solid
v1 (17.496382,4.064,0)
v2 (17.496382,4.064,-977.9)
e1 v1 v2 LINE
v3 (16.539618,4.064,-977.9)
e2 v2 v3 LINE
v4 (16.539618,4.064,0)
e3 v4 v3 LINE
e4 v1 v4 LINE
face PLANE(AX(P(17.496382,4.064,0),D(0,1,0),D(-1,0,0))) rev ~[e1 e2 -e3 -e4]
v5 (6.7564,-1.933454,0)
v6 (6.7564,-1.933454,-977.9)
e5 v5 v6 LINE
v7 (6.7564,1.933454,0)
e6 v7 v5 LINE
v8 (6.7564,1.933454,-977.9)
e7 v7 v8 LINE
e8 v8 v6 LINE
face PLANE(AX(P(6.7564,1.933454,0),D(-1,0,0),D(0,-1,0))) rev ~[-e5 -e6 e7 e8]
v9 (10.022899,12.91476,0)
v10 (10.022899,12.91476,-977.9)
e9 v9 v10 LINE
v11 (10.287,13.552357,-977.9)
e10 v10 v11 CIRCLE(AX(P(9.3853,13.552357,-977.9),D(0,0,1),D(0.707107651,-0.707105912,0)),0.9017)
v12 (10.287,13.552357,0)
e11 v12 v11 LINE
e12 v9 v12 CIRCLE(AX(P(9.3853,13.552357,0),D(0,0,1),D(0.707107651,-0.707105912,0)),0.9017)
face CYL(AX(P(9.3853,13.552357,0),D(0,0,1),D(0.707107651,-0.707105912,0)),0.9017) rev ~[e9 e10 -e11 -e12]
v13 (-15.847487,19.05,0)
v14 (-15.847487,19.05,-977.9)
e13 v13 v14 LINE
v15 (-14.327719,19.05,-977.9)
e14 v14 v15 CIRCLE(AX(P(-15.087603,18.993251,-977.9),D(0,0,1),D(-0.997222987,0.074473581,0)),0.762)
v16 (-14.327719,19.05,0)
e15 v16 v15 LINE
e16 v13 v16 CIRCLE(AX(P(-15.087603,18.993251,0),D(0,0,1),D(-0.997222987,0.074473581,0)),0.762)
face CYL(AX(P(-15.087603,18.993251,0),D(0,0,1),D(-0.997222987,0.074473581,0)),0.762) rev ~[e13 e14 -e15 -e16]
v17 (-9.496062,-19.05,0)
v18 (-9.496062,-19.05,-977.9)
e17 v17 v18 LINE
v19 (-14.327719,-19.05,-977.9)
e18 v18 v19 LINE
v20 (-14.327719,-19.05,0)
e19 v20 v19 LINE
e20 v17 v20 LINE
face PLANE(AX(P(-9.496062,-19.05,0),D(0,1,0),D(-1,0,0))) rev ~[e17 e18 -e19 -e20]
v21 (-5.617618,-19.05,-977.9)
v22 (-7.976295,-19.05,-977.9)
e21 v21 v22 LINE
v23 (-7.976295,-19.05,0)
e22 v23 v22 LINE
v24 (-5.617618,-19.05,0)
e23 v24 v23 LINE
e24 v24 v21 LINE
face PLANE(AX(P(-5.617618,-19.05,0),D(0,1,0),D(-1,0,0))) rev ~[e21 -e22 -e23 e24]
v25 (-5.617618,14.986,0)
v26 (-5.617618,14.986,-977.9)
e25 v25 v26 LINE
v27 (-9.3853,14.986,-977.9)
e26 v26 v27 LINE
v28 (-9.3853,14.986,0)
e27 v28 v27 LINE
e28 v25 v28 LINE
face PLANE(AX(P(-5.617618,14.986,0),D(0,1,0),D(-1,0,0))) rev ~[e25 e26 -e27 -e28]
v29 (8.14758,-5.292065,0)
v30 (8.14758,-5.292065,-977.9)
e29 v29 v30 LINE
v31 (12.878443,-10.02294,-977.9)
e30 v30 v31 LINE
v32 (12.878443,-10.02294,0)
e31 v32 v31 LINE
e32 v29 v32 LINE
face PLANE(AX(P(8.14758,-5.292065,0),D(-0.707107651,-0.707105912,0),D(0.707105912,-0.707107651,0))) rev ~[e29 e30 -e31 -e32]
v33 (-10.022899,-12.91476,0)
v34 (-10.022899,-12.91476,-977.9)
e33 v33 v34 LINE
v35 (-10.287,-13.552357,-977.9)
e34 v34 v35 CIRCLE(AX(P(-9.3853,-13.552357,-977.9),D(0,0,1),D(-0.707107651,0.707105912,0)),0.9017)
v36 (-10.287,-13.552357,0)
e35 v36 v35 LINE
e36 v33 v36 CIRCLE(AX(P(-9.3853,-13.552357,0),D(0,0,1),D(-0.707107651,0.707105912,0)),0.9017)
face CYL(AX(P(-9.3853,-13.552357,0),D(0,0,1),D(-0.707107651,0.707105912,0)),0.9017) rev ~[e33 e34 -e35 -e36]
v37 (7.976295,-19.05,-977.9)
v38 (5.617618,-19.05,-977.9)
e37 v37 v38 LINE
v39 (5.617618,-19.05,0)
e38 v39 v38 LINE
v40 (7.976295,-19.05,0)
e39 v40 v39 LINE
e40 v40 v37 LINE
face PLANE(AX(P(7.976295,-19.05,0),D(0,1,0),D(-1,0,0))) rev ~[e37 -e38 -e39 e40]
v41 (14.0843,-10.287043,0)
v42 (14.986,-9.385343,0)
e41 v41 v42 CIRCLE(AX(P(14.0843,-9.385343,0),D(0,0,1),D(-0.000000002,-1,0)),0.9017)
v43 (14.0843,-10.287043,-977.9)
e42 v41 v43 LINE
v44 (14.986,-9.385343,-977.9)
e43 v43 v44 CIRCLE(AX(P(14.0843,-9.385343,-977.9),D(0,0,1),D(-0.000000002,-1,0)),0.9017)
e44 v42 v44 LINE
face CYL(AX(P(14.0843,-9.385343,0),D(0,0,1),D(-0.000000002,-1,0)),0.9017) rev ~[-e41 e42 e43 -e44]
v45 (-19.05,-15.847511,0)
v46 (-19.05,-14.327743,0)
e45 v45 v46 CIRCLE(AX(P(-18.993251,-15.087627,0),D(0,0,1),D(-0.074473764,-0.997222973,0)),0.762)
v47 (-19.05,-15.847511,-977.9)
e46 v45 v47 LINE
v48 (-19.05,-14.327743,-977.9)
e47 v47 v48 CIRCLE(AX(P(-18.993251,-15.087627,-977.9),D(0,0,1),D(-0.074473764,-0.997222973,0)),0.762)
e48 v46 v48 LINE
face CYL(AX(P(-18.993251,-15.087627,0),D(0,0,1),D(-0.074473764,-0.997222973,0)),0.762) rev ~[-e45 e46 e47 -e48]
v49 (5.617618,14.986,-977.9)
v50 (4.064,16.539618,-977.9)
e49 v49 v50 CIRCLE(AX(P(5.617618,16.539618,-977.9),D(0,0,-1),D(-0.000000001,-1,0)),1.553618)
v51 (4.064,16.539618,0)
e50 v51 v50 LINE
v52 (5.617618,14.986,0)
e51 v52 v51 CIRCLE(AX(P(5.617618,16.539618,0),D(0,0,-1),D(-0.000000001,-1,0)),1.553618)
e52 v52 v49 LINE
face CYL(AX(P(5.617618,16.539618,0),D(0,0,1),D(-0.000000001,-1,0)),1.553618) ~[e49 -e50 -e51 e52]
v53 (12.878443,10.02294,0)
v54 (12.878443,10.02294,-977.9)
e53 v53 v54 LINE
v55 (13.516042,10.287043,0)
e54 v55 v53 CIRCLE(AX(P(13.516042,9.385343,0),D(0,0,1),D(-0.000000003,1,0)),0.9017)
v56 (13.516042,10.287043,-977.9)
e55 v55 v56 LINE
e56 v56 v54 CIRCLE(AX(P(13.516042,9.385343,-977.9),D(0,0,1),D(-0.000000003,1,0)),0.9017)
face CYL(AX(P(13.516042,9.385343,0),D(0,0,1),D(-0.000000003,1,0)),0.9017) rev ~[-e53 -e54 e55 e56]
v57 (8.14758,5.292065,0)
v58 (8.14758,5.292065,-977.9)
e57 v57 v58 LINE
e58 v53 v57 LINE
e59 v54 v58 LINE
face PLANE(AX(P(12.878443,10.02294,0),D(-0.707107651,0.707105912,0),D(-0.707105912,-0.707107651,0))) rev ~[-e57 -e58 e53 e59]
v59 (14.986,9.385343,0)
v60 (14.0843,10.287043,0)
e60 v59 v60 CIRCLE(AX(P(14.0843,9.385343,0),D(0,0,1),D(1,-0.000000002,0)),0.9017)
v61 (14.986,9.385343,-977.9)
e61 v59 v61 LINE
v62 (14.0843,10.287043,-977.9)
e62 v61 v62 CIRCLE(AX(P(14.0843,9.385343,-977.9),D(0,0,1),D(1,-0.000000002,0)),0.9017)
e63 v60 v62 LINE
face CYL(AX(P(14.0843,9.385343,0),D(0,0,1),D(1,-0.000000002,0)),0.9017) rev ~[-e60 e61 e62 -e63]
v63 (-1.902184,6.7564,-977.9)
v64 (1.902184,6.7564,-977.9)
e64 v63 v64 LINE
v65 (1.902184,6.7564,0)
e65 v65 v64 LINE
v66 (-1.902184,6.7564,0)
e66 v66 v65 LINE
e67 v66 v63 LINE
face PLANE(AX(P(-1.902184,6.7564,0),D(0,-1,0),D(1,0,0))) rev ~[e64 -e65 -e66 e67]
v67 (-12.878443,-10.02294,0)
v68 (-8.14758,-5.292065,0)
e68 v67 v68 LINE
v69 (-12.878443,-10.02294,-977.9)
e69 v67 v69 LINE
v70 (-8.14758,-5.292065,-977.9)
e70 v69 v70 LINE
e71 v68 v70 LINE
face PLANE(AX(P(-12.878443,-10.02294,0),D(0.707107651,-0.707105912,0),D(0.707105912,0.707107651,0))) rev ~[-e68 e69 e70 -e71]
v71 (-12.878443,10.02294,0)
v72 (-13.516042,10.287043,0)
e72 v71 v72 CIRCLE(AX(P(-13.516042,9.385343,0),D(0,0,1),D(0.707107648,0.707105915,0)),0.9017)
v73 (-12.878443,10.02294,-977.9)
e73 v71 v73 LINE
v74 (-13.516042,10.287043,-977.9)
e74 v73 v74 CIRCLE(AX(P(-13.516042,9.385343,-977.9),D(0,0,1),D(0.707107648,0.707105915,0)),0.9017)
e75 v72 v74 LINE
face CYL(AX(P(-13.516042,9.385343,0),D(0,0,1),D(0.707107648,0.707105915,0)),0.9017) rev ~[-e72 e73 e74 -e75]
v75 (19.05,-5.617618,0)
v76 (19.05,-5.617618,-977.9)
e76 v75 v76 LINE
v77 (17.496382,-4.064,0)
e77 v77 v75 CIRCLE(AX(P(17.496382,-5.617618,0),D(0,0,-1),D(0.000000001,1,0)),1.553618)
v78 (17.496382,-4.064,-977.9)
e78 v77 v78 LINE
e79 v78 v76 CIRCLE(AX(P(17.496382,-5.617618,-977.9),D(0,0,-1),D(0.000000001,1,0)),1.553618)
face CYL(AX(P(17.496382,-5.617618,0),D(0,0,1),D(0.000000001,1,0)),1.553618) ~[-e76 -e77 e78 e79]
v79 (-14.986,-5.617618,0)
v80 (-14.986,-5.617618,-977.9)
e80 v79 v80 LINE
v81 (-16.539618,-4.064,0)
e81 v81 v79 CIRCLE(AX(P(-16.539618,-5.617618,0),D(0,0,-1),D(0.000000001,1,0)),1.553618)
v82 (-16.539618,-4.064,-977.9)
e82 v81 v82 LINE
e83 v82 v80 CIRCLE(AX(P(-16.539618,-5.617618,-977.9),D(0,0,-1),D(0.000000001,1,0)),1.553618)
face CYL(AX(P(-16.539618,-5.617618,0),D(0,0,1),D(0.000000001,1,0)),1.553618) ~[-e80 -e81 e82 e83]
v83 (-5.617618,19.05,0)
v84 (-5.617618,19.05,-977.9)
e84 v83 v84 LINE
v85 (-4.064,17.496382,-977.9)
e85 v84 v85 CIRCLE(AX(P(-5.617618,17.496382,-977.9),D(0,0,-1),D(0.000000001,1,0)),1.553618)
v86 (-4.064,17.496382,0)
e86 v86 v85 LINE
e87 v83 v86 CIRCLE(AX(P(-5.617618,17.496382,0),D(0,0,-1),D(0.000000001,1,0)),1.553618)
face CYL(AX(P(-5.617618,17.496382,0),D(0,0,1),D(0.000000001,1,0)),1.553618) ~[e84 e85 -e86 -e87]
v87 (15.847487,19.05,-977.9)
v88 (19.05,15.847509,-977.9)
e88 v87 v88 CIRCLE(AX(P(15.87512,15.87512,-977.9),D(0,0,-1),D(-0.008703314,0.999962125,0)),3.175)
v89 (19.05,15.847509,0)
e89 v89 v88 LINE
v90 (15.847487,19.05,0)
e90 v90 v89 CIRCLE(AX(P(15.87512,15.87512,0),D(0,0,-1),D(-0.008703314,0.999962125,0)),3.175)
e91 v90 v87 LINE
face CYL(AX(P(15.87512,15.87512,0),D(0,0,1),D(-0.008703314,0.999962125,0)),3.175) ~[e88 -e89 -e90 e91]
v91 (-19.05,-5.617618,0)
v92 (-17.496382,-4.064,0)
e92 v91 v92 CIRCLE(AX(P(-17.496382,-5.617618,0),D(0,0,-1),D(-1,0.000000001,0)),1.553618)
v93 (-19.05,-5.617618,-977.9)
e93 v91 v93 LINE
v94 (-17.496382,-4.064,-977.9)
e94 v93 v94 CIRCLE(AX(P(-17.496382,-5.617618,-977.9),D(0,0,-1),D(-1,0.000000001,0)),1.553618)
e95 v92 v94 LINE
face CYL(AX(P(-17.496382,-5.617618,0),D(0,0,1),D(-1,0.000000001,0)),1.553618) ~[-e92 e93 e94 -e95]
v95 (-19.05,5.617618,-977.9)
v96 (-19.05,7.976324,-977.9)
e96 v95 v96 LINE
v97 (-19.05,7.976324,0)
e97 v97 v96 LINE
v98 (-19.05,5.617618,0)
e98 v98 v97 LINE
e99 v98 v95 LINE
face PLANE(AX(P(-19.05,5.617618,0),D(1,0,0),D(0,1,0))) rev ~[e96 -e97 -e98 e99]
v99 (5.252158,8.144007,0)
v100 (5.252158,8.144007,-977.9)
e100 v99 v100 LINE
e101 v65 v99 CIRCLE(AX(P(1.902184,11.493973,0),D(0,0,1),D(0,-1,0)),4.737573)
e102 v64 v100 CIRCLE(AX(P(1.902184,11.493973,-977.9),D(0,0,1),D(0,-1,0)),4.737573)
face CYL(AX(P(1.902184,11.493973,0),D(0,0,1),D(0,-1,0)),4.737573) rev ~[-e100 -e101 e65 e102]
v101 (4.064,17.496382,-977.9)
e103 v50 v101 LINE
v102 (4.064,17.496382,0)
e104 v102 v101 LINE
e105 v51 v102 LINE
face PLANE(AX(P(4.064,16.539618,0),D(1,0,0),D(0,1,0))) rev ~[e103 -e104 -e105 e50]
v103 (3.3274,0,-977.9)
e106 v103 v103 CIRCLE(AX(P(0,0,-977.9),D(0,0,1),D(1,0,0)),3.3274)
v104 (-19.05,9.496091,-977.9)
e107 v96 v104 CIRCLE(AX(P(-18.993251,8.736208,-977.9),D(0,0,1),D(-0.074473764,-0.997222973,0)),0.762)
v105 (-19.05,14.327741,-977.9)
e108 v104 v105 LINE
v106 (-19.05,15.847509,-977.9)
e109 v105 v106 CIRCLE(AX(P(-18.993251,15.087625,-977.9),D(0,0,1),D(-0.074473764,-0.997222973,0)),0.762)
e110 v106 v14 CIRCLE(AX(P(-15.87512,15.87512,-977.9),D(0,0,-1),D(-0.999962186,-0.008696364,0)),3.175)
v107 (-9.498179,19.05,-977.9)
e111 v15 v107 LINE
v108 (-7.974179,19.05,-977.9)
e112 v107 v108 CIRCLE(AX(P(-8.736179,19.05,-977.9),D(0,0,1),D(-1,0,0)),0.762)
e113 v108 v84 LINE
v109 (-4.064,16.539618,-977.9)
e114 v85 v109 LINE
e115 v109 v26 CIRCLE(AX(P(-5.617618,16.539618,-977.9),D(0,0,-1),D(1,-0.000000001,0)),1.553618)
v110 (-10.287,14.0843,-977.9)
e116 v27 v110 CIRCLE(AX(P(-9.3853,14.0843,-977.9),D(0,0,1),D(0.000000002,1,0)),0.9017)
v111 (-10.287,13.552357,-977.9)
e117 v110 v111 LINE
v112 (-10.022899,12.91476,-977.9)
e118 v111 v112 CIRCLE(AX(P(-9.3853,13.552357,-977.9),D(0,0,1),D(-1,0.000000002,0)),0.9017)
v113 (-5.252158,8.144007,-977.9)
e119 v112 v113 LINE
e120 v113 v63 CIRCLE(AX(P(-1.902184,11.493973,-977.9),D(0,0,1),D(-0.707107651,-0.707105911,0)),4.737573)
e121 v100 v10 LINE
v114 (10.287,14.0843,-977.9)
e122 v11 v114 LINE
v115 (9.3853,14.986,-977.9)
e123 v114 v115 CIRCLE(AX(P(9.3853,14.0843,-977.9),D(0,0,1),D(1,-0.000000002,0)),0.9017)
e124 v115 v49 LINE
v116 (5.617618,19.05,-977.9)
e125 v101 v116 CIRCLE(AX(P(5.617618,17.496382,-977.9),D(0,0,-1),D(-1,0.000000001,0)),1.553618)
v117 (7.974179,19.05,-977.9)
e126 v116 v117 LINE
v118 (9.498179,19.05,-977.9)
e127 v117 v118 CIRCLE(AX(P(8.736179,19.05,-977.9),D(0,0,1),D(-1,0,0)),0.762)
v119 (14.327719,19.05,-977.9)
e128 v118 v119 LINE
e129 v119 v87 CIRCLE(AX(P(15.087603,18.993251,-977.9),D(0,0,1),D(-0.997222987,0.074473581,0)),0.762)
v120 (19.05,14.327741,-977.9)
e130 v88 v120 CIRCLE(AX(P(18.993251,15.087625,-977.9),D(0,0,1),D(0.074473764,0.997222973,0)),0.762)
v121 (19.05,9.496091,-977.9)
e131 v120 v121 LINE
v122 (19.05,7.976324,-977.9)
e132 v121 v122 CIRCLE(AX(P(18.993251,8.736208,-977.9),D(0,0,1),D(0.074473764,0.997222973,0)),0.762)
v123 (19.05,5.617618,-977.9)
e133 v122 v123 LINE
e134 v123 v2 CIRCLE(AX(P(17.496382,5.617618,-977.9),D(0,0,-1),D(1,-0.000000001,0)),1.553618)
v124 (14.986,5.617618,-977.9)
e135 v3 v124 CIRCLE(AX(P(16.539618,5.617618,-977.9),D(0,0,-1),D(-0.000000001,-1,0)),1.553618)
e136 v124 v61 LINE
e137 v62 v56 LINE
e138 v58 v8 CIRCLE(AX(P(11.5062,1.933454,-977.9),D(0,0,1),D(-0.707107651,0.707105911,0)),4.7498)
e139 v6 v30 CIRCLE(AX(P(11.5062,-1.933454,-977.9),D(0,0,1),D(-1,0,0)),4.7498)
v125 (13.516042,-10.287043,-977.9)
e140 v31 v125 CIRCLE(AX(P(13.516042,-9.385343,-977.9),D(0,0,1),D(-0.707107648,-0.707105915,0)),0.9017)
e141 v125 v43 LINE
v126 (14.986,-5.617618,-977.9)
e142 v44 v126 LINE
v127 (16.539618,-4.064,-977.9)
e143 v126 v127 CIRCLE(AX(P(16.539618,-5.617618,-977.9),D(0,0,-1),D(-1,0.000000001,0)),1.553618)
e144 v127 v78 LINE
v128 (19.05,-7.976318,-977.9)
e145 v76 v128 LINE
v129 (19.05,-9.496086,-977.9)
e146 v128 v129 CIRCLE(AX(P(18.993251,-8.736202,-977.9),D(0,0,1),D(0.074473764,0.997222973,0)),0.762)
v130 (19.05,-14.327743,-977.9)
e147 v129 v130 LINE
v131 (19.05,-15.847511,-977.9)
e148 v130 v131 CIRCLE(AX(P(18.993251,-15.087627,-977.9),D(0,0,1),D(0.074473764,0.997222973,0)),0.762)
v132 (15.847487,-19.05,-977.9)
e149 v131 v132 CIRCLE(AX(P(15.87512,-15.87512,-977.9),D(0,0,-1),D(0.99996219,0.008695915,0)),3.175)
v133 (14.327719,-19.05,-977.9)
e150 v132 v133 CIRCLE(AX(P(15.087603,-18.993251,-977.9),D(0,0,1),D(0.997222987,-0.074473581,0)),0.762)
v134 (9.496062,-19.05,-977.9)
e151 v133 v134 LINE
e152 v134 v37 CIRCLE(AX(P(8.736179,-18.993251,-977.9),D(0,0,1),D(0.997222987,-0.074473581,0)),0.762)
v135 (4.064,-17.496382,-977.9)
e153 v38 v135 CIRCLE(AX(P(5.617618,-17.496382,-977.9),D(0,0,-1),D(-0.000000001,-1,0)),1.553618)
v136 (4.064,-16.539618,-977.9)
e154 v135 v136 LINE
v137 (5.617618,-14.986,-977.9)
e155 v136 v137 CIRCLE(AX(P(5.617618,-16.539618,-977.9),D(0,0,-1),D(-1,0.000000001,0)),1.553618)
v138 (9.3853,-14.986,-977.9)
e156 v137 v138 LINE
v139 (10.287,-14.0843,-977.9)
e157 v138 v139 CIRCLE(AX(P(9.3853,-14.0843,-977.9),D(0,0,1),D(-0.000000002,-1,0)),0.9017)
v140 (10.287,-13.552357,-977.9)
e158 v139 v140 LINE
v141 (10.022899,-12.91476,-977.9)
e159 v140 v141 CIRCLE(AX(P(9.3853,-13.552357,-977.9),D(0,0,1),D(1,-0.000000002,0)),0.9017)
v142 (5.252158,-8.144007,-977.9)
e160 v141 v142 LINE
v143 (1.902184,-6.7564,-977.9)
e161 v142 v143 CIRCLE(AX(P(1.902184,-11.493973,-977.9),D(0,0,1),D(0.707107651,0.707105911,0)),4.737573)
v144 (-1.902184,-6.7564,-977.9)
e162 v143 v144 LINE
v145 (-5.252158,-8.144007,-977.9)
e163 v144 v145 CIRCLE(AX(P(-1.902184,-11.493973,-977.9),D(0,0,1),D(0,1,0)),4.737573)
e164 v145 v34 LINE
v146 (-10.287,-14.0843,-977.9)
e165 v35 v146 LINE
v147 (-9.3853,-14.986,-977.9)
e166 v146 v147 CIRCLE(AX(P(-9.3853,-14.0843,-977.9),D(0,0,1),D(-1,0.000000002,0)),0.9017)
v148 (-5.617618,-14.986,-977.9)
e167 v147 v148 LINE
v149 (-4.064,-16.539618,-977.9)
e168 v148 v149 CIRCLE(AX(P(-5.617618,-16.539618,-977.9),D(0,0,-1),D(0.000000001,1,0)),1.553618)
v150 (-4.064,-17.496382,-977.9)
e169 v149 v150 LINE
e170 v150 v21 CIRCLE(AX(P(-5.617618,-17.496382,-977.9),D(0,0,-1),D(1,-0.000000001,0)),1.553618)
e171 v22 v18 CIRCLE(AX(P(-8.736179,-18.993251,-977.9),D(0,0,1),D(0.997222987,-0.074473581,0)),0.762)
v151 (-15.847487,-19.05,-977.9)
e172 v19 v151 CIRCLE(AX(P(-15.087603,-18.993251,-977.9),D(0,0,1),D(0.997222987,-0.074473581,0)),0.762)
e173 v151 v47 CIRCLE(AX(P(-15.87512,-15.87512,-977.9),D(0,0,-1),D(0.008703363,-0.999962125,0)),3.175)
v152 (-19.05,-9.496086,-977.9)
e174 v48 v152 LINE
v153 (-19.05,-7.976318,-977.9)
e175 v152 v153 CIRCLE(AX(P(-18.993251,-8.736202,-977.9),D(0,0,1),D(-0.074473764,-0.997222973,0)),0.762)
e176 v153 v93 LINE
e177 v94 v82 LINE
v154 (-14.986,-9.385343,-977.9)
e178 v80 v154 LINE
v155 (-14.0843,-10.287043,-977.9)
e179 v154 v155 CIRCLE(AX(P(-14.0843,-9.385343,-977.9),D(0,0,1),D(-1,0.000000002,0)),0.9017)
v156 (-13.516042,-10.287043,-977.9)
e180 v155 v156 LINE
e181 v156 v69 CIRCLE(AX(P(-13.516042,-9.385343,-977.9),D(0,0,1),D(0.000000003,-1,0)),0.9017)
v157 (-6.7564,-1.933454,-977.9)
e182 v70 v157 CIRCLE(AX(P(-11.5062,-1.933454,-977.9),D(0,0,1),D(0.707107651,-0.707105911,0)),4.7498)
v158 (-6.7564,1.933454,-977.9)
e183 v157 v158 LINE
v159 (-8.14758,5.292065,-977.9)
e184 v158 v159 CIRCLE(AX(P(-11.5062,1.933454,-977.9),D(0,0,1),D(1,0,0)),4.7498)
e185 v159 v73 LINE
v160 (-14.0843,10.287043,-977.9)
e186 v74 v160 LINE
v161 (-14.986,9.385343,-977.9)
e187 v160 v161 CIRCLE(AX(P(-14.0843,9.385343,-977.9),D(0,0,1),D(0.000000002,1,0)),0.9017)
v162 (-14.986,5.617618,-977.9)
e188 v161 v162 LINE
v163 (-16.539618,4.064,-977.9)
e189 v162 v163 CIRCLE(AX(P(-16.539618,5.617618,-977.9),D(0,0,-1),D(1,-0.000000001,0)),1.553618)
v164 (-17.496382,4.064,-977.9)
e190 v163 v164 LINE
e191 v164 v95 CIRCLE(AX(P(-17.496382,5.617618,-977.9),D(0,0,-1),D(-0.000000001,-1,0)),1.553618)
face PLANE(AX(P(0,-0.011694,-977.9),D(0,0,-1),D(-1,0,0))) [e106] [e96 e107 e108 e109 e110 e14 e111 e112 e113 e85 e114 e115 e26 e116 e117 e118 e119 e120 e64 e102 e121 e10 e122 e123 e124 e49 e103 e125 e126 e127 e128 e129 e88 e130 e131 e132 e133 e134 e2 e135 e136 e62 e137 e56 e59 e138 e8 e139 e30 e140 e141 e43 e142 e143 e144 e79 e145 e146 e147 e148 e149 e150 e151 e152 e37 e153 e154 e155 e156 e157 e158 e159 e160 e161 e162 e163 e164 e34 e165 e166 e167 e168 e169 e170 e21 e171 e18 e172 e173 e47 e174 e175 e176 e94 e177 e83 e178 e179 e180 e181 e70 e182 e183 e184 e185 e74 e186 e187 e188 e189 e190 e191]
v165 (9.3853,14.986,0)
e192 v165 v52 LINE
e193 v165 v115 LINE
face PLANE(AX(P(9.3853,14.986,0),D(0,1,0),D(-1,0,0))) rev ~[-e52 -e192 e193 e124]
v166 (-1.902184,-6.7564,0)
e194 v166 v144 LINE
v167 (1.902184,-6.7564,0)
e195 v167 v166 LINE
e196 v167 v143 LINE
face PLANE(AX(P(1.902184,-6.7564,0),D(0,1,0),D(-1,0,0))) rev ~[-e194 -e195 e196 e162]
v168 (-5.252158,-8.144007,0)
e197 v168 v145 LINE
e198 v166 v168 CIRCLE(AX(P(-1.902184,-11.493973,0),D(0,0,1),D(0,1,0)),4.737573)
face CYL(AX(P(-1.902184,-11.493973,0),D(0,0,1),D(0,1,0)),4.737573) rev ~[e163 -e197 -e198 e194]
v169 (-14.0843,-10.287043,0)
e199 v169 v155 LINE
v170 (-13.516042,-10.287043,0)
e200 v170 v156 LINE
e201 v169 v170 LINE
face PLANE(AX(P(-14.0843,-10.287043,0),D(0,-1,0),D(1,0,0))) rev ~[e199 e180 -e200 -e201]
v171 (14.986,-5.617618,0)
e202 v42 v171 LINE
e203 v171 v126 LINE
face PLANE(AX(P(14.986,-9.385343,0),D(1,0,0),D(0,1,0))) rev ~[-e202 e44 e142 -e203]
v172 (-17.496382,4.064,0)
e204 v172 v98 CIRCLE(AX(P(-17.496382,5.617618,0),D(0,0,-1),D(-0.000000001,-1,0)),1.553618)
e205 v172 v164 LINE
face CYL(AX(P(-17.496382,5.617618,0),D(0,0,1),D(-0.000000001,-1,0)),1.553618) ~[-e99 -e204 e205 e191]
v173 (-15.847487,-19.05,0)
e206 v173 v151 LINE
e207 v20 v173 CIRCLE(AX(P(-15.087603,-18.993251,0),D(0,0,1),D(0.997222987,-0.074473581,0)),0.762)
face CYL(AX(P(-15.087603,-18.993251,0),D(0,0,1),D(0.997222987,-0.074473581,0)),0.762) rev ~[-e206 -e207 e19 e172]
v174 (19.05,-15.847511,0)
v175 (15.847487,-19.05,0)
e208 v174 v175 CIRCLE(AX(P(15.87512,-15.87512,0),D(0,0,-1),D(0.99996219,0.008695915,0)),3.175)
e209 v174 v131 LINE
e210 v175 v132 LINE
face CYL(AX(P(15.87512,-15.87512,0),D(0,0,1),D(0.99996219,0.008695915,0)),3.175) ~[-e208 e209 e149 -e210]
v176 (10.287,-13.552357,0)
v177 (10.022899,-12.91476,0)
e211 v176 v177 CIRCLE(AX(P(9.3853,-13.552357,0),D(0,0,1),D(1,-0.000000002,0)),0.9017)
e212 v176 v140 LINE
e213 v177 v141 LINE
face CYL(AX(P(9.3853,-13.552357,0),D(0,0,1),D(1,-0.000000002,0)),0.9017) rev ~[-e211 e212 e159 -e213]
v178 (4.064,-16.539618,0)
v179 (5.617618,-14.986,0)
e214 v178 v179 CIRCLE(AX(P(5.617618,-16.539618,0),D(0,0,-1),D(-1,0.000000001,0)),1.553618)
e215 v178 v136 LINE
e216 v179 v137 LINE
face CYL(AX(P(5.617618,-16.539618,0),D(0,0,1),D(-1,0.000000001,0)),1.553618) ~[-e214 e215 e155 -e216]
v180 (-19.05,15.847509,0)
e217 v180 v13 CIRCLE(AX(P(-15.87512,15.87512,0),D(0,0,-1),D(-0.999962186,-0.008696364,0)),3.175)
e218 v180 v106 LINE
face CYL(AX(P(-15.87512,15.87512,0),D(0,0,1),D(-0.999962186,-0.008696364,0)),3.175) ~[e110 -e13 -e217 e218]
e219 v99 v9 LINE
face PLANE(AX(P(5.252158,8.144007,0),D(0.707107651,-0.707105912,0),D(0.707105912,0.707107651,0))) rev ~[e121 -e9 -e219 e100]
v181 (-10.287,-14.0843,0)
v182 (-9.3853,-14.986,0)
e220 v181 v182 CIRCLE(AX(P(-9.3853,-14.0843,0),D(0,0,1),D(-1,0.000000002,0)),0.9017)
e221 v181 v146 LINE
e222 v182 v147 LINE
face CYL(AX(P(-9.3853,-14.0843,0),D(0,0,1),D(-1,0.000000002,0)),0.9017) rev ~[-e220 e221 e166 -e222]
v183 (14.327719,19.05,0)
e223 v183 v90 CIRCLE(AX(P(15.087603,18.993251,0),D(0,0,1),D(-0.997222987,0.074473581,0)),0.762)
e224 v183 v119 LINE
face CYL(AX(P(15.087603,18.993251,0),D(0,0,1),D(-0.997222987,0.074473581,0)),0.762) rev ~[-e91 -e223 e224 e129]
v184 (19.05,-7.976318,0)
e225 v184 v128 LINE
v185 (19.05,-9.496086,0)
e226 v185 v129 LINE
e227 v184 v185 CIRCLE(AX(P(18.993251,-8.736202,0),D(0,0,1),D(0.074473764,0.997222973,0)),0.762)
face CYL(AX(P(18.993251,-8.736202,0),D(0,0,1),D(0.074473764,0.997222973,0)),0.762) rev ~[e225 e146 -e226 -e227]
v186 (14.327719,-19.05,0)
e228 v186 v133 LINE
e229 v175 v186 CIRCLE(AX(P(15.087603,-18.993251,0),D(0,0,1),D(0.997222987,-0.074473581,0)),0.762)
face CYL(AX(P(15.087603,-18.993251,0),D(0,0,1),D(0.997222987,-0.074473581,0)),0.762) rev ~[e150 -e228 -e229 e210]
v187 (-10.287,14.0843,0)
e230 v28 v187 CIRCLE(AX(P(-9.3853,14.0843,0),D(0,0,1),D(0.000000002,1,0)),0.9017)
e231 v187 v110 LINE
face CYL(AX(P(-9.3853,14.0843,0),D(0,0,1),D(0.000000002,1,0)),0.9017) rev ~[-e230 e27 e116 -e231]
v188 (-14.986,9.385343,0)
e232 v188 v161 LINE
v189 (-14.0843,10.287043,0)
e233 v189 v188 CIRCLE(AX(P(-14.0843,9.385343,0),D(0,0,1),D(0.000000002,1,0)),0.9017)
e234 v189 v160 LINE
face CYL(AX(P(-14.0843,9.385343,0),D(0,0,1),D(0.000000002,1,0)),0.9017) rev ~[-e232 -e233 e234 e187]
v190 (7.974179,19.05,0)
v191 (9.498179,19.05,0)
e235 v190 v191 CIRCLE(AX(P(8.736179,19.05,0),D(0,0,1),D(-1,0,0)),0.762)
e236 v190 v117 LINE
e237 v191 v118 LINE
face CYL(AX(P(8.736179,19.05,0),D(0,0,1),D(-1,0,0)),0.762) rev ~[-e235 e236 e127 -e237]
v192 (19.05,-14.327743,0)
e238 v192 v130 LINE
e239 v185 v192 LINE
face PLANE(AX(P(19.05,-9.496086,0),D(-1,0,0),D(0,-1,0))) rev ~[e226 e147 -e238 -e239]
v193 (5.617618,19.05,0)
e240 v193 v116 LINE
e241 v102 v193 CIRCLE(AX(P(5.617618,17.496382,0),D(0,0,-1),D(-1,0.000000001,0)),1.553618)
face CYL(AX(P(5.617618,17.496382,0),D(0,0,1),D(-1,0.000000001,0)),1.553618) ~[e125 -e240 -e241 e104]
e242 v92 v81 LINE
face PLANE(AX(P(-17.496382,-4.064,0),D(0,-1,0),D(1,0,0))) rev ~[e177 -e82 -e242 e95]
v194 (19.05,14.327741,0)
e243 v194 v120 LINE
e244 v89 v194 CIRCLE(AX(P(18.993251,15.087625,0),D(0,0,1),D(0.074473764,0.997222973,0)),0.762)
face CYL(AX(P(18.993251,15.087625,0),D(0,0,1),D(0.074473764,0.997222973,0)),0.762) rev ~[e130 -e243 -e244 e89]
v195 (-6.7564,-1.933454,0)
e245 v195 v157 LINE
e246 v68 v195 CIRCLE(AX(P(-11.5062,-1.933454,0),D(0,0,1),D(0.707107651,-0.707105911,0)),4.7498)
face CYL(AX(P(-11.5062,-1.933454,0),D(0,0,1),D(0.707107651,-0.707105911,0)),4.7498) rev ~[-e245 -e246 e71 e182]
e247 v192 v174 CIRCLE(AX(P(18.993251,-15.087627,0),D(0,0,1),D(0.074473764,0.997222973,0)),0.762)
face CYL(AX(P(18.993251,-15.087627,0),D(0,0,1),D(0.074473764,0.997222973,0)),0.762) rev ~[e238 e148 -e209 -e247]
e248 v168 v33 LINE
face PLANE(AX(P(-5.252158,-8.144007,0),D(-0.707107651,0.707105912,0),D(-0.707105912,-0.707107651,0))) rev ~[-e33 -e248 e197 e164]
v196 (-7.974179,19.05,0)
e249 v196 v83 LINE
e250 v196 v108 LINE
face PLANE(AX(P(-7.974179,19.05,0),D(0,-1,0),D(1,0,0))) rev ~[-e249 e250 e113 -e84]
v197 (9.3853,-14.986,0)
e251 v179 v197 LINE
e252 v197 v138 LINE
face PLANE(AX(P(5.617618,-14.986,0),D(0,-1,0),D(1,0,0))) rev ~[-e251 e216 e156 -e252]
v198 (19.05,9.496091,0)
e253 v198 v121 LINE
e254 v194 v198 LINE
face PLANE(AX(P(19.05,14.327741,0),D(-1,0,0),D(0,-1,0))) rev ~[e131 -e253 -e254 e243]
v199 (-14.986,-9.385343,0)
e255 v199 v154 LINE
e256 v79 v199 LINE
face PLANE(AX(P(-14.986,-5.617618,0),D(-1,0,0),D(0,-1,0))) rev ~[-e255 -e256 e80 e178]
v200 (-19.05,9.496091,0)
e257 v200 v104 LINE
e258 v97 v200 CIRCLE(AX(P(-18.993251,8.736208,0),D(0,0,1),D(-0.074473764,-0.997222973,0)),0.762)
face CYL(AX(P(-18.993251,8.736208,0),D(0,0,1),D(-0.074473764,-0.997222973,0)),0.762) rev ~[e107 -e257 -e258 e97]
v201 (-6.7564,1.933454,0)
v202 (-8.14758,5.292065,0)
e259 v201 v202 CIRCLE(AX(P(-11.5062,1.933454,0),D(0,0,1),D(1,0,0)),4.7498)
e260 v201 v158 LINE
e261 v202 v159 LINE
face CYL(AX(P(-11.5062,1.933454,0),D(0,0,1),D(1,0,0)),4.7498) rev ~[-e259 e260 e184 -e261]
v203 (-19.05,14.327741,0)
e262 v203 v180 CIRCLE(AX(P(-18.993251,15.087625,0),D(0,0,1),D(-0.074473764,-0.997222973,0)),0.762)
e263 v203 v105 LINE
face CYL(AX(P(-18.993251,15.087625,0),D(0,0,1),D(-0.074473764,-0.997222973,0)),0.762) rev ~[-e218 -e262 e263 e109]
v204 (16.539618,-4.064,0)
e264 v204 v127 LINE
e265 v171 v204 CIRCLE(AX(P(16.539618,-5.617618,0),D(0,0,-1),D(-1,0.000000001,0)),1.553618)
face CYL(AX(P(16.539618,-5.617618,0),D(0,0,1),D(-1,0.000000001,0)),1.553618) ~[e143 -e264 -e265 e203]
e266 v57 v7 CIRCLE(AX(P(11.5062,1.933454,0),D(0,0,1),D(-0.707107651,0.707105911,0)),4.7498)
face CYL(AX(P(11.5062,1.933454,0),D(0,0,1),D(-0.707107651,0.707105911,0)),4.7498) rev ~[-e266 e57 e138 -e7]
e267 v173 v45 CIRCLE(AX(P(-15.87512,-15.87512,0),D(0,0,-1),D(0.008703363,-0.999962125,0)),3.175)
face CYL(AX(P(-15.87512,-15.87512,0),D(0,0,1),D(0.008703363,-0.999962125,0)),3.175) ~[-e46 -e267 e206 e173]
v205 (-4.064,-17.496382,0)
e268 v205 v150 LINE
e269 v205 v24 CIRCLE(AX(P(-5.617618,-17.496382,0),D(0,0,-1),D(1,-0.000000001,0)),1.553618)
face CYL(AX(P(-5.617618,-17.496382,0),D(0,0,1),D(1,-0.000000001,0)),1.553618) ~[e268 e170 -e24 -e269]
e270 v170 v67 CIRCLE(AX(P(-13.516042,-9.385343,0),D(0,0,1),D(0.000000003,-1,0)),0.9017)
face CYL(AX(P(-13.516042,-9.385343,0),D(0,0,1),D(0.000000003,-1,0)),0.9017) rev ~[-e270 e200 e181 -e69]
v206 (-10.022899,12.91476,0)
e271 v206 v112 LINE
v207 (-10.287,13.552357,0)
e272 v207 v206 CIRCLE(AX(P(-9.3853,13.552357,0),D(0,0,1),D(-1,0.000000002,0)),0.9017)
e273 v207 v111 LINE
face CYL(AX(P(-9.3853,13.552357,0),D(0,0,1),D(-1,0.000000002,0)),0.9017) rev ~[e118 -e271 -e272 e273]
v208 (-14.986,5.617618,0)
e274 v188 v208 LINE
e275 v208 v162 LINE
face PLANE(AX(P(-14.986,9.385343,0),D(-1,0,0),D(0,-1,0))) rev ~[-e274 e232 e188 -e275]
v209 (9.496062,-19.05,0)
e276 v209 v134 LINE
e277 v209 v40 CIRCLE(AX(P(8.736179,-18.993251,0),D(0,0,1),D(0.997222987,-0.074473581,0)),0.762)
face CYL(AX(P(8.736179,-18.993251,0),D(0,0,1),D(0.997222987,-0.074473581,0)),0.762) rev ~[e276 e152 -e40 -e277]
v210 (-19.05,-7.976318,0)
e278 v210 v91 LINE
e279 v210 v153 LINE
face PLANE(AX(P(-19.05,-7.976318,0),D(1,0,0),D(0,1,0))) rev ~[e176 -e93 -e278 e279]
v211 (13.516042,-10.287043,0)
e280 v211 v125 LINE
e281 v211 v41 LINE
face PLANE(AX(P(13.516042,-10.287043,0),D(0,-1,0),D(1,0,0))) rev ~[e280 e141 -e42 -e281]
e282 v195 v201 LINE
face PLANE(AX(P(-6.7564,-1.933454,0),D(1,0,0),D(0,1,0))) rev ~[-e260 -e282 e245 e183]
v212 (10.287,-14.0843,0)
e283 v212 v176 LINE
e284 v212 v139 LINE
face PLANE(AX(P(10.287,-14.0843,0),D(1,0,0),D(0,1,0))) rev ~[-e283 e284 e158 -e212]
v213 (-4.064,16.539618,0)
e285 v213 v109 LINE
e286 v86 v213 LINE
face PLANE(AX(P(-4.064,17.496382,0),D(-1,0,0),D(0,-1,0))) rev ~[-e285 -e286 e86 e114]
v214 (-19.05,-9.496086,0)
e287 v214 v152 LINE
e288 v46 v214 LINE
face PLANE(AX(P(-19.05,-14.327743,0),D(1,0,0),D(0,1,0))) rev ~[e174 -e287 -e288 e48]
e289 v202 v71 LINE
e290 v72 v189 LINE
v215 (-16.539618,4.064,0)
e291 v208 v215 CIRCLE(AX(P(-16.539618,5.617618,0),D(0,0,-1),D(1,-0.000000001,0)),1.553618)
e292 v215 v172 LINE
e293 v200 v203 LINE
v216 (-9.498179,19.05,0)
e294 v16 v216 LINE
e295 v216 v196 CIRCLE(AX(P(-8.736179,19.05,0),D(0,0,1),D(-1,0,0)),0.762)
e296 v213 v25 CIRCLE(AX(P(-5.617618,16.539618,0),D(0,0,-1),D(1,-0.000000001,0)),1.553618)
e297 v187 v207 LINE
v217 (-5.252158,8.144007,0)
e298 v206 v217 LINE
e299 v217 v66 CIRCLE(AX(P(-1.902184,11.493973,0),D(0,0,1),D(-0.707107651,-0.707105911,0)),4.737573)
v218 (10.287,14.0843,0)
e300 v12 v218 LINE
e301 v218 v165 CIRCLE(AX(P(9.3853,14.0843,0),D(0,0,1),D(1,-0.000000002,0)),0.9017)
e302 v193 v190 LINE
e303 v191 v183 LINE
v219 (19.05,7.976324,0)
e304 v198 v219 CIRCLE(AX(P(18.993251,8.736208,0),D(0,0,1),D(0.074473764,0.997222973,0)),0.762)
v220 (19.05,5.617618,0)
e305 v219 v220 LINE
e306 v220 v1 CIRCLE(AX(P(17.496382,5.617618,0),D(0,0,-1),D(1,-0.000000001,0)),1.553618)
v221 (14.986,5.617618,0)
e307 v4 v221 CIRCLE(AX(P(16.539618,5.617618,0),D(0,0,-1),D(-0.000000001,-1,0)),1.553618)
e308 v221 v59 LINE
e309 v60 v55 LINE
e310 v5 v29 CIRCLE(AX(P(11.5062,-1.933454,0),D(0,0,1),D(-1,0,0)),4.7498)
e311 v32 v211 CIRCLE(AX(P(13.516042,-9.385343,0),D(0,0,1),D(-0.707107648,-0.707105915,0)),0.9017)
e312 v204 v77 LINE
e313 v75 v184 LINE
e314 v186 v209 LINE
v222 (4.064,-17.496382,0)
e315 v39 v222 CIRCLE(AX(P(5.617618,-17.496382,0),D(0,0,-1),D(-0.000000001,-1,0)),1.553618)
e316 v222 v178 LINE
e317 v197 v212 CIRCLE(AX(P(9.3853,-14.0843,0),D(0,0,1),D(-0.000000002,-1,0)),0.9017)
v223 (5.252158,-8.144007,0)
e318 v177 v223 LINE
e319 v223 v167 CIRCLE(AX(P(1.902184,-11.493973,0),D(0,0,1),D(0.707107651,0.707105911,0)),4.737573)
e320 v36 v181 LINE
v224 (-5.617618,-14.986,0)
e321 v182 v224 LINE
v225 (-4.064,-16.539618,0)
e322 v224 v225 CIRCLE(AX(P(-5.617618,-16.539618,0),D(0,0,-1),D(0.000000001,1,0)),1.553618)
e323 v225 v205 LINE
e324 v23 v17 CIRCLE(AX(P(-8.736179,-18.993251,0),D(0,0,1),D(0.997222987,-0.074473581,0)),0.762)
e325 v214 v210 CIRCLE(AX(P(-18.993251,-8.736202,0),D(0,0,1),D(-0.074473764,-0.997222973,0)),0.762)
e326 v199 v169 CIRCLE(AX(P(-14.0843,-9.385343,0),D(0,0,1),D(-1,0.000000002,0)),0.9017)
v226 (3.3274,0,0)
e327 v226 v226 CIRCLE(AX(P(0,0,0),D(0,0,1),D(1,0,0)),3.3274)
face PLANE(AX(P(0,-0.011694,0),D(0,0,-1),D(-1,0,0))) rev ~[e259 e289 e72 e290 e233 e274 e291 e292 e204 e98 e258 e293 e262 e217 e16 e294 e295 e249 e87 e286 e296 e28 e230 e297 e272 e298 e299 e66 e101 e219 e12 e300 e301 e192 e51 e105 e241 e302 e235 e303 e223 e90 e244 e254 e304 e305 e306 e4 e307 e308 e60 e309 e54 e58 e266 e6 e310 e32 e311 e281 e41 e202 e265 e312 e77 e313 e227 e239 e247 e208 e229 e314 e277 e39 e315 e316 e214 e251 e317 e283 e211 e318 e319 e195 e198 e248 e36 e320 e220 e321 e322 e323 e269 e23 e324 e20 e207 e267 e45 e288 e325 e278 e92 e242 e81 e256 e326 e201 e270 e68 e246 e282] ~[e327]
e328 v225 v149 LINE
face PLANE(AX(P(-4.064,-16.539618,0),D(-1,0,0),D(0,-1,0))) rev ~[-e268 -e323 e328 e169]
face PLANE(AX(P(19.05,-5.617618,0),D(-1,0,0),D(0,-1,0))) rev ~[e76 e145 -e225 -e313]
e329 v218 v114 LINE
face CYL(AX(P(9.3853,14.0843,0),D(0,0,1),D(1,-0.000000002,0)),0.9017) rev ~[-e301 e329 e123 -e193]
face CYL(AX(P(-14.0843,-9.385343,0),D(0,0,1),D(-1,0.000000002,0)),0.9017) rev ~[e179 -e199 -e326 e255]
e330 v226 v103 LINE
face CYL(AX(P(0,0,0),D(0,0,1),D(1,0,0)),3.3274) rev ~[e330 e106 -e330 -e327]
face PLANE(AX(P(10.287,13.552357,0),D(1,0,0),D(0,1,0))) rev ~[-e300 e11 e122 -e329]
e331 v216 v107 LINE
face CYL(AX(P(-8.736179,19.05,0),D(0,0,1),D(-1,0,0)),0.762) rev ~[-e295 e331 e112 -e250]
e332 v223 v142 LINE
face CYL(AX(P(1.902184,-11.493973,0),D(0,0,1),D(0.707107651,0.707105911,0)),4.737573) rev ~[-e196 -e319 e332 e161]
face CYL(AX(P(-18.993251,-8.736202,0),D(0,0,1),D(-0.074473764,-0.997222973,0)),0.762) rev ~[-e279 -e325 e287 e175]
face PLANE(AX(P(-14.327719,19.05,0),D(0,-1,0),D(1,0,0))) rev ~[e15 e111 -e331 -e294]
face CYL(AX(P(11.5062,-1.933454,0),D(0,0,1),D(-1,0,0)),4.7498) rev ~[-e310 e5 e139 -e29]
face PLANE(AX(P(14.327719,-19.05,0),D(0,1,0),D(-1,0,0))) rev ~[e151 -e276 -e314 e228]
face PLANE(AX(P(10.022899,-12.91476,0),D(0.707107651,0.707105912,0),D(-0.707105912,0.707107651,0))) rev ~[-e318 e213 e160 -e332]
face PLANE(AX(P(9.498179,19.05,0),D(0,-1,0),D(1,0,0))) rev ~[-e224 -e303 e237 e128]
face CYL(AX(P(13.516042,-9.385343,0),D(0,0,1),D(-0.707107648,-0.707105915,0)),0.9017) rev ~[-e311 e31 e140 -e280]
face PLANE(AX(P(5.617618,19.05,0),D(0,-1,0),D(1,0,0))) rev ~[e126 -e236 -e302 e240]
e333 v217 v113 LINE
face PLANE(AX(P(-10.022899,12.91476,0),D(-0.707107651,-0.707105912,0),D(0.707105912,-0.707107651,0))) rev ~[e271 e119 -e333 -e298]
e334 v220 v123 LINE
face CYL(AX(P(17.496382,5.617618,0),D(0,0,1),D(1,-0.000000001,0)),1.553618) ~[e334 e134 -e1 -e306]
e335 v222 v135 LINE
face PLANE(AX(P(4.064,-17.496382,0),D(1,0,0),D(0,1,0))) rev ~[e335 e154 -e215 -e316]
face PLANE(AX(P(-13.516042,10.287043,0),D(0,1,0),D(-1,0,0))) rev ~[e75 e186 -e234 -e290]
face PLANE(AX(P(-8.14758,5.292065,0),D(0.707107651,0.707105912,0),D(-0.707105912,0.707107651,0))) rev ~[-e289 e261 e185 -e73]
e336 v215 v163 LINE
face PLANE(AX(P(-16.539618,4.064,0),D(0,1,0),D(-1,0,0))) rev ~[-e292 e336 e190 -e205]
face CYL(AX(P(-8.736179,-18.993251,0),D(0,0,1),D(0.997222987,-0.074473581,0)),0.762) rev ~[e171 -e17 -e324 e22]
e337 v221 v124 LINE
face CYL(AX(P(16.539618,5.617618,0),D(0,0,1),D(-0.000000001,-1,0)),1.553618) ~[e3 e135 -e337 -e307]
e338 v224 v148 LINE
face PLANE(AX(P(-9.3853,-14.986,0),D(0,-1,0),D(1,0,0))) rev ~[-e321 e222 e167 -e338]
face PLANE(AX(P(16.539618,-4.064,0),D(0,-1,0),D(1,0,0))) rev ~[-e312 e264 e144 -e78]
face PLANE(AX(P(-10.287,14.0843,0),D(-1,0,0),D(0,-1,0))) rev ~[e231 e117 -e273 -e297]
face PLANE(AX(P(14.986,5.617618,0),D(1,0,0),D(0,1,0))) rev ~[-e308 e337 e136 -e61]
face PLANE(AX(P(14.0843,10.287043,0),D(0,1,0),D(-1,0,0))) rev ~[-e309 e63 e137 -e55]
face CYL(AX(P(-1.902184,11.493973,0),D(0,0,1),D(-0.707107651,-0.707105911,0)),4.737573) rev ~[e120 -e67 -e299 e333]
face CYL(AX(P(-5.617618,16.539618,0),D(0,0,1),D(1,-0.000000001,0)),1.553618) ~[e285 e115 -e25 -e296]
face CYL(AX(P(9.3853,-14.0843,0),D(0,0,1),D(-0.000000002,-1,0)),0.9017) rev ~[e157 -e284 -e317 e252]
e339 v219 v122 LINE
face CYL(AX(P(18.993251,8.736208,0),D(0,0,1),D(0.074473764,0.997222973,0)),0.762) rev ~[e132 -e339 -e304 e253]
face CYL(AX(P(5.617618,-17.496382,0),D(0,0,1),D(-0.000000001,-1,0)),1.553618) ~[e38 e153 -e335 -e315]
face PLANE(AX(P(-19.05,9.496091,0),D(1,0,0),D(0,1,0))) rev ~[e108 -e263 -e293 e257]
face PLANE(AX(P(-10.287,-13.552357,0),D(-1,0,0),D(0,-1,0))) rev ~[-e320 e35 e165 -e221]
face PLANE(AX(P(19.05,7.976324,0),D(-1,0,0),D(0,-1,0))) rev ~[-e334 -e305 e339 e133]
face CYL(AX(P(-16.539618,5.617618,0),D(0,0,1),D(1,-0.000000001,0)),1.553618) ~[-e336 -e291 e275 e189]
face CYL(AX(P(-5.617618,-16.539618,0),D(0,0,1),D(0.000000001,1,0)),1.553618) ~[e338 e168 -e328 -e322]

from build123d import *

# Parameters (mm, degrees)
SKETCH1_R      = 3.3274
EXTRUDE1_DEPTH = 977.9


with BuildPart() as part:
    # Sketch1 → Extrude1 (new body)
    with BuildSketch(Plane.XY):
        with BuildLine():
            Line((-10.022898969, 12.91475973), (-5.252158105, 8.144007132))
            ThreePointArc((-5.252158105, 8.144007132), (-3.715177372, 7.117027388), (-1.902183975, 6.7564))
            Line((-1.902183975, 6.7564), (1.902183975, 6.7564))
            ThreePointArc((1.902183975, 6.7564), (3.715177372, 7.117027388), (5.252158105, 8.144007132))
            Line((5.252158105, 8.144007132), (10.022898969, 12.91475973))
            ThreePointArc((10.022898969, 12.91475973), (10.218362387, 13.207291992), (10.287, 13.552357131))
            Line((10.287, 13.552357131), (10.287, 14.0843))
            ThreePointArc((10.287, 14.0843), (10.022898185, 14.721898185), (9.3853, 14.986))
            Line((9.3853, 14.986), (5.617617549, 14.986))
            ThreePointArc((5.617617549, 14.986), (4.519044045, 15.441044045), (4.064, 16.539617549))
            Line((4.064, 16.539617549), (4.064, 17.496382451))
            ThreePointArc((4.064, 17.496382451), (4.519044045, 18.594955955), (5.617617549, 19.05))
            Line((5.617617549, 19.05), (7.974178704, 19.05))
            ThreePointArc((7.974178704, 19.05), (8.736178704, 18.288), (9.498178704, 19.05))
            Line((9.498178704, 19.05), (14.327719207, 19.05))
            ThreePointArc((14.327719207, 19.05), (15.087603123, 18.231251131), (15.847487039, 19.05))
            ThreePointArc((15.847487039, 19.05), (18.120176289, 18.120192083), (19.05, 15.847509295))
            ThreePointArc((19.05, 15.847509295), (18.231250992, 15.08762539), (19.05, 14.327741484))
            Line((19.05, 14.327741484), (19.05, 9.496091471))
            ThreePointArc((19.05, 9.496091471), (18.231250992, 8.736207565), (19.05, 7.97632366))
            Line((19.05, 7.97632366), (19.05, 5.617617549))
            ThreePointArc((19.05, 5.617617549), (18.594955955, 4.519044045), (17.496382451, 4.064))
            Line((17.496382451, 4.064), (16.539617549, 4.064))
            ThreePointArc((16.539617549, 4.064), (15.441044045, 4.519044045), (14.986, 5.617617549))
            Line((14.986, 5.617617549), (14.986, 9.385342516))
            ThreePointArc((14.986, 9.385342516), (14.721898185, 10.022940701), (14.0843, 10.287042516))
            Line((14.0843, 10.287042516), (13.516042086, 10.287042516))
            ThreePointArc((13.516042086, 10.287042516), (13.170975923, 10.218404478), (12.878443117, 10.022939917))
            Line((12.878443117, 10.022939917), (8.14758008, 5.292065243))
            ThreePointArc((8.14758008, 5.292065243), (7.117955879, 3.751120653), (6.7564, 1.933453584))
            Line((6.7564, 1.933453584), (6.7564, -1.933453584))
            ThreePointArc((6.7564, -1.933453584), (7.117955879, -3.751120653), (8.14758008, -5.292065243))
            Line((8.14758008, -5.292065243), (12.878443117, -10.022939917))
            ThreePointArc((12.878443117, -10.022939917), (13.170975923, -10.218404478), (13.516042086, -10.287042516))
            Line((13.516042086, -10.287042516), (14.0843, -10.287042516))
            ThreePointArc((14.0843, -10.287042516), (14.721898185, -10.022940701), (14.986, -9.385342516))
            Line((14.986, -9.385342516), (14.986, -5.617617549))
            ThreePointArc((14.986, -5.617617549), (15.441044045, -4.519044045), (16.539617549, -4.064))
            Line((16.539617549, -4.064), (17.496382451, -4.064))
            ThreePointArc((17.496382451, -4.064), (18.594955955, -4.519044045), (19.05, -5.617617549))
            Line((19.05, -5.617617549), (19.05, -7.976318491))
            ThreePointArc((19.05, -7.976318491), (18.231250992, -8.736202396), (19.05, -9.496086302))
            Line((19.05, -9.496086302), (19.05, -14.32774291))
            ThreePointArc((19.05, -14.32774291), (18.231250992, -15.087626816), (19.05, -15.847510721))
            ThreePointArc((19.05, -15.847510721), (18.120175716, -18.120192644), (15.847486868, -19.05))
            ThreePointArc((15.847486868, -19.05), (15.087602952, -18.231251131), (14.327719036, -19.05))
            Line((14.327719036, -19.05), (9.496062448, -19.05))
            ThreePointArc((9.496062448, -19.05), (8.736178532, -18.231251131), (7.976294616, -19.05))
            Line((7.976294616, -19.05), (5.617617549, -19.05))
            ThreePointArc((5.617617549, -19.05), (4.519044045, -18.594955955), (4.064, -17.496382451))
            Line((4.064, -17.496382451), (4.064, -16.539617549))
            ThreePointArc((4.064, -16.539617549), (4.519044045, -15.441044045), (5.617617549, -14.986))
            Line((5.617617549, -14.986), (9.3853, -14.986))
            ThreePointArc((9.3853, -14.986), (10.022898185, -14.721898185), (10.287, -14.0843))
            Line((10.287, -14.0843), (10.287, -13.552357131))
            ThreePointArc((10.287, -13.552357131), (10.218362387, -13.207291992), (10.022898969, -12.91475973))
            Line((10.022898969, -12.91475973), (5.252158105, -8.144007132))
            ThreePointArc((5.252158105, -8.144007132), (3.715177372, -7.117027388), (1.902183975, -6.7564))
            Line((1.902183975, -6.7564), (-1.902183975, -6.7564))
            ThreePointArc((-1.902183975, -6.7564), (-3.715177372, -7.117027388), (-5.252158105, -8.144007132))
            Line((-5.252158105, -8.144007132), (-10.022898969, -12.91475973))
            ThreePointArc((-10.022898969, -12.91475973), (-10.218362387, -13.207291992), (-10.287, -13.552357131))
            Line((-10.287, -13.552357131), (-10.287, -14.0843))
            ThreePointArc((-10.287, -14.0843), (-10.022898185, -14.721898185), (-9.3853, -14.986))
            Line((-9.3853, -14.986), (-5.617617549, -14.986))
            ThreePointArc((-5.617617549, -14.986), (-4.519044045, -15.441044045), (-4.064, -16.539617549))
            Line((-4.064, -16.539617549), (-4.064, -17.496382451))
            ThreePointArc((-4.064, -17.496382451), (-4.519044045, -18.594955955), (-5.617617549, -19.05))
            Line((-5.617617549, -19.05), (-7.976294616, -19.05))
            ThreePointArc((-7.976294616, -19.05), (-8.736178532, -18.231251131), (-9.496062448, -19.05))
            Line((-9.496062448, -19.05), (-14.327719036, -19.05))
            ThreePointArc((-14.327719036, -19.05), (-15.087602952, -18.231251131), (-15.847486868, -19.05))
            ThreePointArc((-15.847486868, -19.05), (-18.120175716, -18.120192644), (-19.05, -15.847510721))
            ThreePointArc((-19.05, -15.847510721), (-18.231250992, -15.087626816), (-19.05, -14.32774291))
            Line((-19.05, -14.32774291), (-19.05, -9.496086302))
            ThreePointArc((-19.05, -9.496086302), (-18.231250992, -8.736202396), (-19.05, -7.976318491))
            Line((-19.05, -7.976318491), (-19.05, -5.617617549))
            ThreePointArc((-19.05, -5.617617549), (-18.594955955, -4.519044045), (-17.496382451, -4.064))
            Line((-17.496382451, -4.064), (-16.539617549, -4.064))
            ThreePointArc((-16.539617549, -4.064), (-15.441044045, -4.519044045), (-14.986, -5.617617549))
            Line((-14.986, -5.617617549), (-14.986, -9.385342516))
            ThreePointArc((-14.986, -9.385342516), (-14.721898185, -10.022940701), (-14.0843, -10.287042516))
            Line((-14.0843, -10.287042516), (-13.516042086, -10.287042516))
            ThreePointArc((-13.516042086, -10.287042516), (-13.170975923, -10.218404478), (-12.878443117, -10.022939917))
            Line((-12.878443117, -10.022939917), (-8.14758008, -5.292065243))
            ThreePointArc((-8.14758008, -5.292065243), (-7.117955879, -3.751120653), (-6.7564, -1.933453584))
            Line((-6.7564, -1.933453584), (-6.7564, 1.933453584))
            ThreePointArc((-6.7564, 1.933453584), (-7.117955879, 3.751120653), (-8.14758008, 5.292065243))
            Line((-8.14758008, 5.292065243), (-12.878443117, 10.022939917))
            ThreePointArc((-12.878443117, 10.022939917), (-13.170975923, 10.218404478), (-13.516042086, 10.287042516))
            Line((-13.516042086, 10.287042516), (-14.0843, 10.287042516))
            ThreePointArc((-14.0843, 10.287042516), (-14.721898185, 10.022940701), (-14.986, 9.385342516))
            Line((-14.986, 9.385342516), (-14.986, 5.617617549))
            ThreePointArc((-14.986, 5.617617549), (-15.441044045, 4.519044045), (-16.539617549, 4.064))
            Line((-16.539617549, 4.064), (-17.496382451, 4.064))
            ThreePointArc((-17.496382451, 4.064), (-18.594955955, 4.519044045), (-19.05, 5.617617549))
            Line((-19.05, 5.617617549), (-19.05, 7.97632366))
            ThreePointArc((-19.05, 7.97632366), (-18.231250992, 8.736207565), (-19.05, 9.496091471))
            Line((-19.05, 9.496091471), (-19.05, 14.327741484))
            ThreePointArc((-19.05, 14.327741484), (-18.231250992, 15.08762539), (-19.05, 15.847509295))
            ThreePointArc((-19.05, 15.847509295), (-18.120176289, 18.120192083), (-15.847487039, 19.05))
            ThreePointArc((-15.847487039, 19.05), (-15.087603123, 18.231251131), (-14.327719207, 19.05))
            Line((-14.327719207, 19.05), (-9.498178704, 19.05))
            ThreePointArc((-9.498178704, 19.05), (-8.736178704, 18.288), (-7.974178704, 19.05))
            Line((-7.974178704, 19.05), (-5.617617549, 19.05))
            ThreePointArc((-5.617617549, 19.05), (-4.519044045, 18.594955955), (-4.064, 17.496382451))
            Line((-4.064, 17.496382451), (-4.064, 16.539617549))
            ThreePointArc((-4.064, 16.539617549), (-4.519044045, 15.441044045), (-5.617617549, 14.986))
            Line((-5.617617549, 14.986), (-9.3853, 14.986))
            ThreePointArc((-9.3853, 14.986), (-10.022898185, 14.721898185), (-10.287, 14.0843))
            Line((-10.287, 14.0843), (-10.287, 13.552357131))
            ThreePointArc((-10.287, 13.552357131), (-10.218362387, 13.207291992), (-10.022898969, 12.91475973))
        make_face()
        Circle(SKETCH1_R, mode=Mode.SUBTRACT)
    extrude(amount=-EXTRUDE1_DEPTH)


solid = part.part
